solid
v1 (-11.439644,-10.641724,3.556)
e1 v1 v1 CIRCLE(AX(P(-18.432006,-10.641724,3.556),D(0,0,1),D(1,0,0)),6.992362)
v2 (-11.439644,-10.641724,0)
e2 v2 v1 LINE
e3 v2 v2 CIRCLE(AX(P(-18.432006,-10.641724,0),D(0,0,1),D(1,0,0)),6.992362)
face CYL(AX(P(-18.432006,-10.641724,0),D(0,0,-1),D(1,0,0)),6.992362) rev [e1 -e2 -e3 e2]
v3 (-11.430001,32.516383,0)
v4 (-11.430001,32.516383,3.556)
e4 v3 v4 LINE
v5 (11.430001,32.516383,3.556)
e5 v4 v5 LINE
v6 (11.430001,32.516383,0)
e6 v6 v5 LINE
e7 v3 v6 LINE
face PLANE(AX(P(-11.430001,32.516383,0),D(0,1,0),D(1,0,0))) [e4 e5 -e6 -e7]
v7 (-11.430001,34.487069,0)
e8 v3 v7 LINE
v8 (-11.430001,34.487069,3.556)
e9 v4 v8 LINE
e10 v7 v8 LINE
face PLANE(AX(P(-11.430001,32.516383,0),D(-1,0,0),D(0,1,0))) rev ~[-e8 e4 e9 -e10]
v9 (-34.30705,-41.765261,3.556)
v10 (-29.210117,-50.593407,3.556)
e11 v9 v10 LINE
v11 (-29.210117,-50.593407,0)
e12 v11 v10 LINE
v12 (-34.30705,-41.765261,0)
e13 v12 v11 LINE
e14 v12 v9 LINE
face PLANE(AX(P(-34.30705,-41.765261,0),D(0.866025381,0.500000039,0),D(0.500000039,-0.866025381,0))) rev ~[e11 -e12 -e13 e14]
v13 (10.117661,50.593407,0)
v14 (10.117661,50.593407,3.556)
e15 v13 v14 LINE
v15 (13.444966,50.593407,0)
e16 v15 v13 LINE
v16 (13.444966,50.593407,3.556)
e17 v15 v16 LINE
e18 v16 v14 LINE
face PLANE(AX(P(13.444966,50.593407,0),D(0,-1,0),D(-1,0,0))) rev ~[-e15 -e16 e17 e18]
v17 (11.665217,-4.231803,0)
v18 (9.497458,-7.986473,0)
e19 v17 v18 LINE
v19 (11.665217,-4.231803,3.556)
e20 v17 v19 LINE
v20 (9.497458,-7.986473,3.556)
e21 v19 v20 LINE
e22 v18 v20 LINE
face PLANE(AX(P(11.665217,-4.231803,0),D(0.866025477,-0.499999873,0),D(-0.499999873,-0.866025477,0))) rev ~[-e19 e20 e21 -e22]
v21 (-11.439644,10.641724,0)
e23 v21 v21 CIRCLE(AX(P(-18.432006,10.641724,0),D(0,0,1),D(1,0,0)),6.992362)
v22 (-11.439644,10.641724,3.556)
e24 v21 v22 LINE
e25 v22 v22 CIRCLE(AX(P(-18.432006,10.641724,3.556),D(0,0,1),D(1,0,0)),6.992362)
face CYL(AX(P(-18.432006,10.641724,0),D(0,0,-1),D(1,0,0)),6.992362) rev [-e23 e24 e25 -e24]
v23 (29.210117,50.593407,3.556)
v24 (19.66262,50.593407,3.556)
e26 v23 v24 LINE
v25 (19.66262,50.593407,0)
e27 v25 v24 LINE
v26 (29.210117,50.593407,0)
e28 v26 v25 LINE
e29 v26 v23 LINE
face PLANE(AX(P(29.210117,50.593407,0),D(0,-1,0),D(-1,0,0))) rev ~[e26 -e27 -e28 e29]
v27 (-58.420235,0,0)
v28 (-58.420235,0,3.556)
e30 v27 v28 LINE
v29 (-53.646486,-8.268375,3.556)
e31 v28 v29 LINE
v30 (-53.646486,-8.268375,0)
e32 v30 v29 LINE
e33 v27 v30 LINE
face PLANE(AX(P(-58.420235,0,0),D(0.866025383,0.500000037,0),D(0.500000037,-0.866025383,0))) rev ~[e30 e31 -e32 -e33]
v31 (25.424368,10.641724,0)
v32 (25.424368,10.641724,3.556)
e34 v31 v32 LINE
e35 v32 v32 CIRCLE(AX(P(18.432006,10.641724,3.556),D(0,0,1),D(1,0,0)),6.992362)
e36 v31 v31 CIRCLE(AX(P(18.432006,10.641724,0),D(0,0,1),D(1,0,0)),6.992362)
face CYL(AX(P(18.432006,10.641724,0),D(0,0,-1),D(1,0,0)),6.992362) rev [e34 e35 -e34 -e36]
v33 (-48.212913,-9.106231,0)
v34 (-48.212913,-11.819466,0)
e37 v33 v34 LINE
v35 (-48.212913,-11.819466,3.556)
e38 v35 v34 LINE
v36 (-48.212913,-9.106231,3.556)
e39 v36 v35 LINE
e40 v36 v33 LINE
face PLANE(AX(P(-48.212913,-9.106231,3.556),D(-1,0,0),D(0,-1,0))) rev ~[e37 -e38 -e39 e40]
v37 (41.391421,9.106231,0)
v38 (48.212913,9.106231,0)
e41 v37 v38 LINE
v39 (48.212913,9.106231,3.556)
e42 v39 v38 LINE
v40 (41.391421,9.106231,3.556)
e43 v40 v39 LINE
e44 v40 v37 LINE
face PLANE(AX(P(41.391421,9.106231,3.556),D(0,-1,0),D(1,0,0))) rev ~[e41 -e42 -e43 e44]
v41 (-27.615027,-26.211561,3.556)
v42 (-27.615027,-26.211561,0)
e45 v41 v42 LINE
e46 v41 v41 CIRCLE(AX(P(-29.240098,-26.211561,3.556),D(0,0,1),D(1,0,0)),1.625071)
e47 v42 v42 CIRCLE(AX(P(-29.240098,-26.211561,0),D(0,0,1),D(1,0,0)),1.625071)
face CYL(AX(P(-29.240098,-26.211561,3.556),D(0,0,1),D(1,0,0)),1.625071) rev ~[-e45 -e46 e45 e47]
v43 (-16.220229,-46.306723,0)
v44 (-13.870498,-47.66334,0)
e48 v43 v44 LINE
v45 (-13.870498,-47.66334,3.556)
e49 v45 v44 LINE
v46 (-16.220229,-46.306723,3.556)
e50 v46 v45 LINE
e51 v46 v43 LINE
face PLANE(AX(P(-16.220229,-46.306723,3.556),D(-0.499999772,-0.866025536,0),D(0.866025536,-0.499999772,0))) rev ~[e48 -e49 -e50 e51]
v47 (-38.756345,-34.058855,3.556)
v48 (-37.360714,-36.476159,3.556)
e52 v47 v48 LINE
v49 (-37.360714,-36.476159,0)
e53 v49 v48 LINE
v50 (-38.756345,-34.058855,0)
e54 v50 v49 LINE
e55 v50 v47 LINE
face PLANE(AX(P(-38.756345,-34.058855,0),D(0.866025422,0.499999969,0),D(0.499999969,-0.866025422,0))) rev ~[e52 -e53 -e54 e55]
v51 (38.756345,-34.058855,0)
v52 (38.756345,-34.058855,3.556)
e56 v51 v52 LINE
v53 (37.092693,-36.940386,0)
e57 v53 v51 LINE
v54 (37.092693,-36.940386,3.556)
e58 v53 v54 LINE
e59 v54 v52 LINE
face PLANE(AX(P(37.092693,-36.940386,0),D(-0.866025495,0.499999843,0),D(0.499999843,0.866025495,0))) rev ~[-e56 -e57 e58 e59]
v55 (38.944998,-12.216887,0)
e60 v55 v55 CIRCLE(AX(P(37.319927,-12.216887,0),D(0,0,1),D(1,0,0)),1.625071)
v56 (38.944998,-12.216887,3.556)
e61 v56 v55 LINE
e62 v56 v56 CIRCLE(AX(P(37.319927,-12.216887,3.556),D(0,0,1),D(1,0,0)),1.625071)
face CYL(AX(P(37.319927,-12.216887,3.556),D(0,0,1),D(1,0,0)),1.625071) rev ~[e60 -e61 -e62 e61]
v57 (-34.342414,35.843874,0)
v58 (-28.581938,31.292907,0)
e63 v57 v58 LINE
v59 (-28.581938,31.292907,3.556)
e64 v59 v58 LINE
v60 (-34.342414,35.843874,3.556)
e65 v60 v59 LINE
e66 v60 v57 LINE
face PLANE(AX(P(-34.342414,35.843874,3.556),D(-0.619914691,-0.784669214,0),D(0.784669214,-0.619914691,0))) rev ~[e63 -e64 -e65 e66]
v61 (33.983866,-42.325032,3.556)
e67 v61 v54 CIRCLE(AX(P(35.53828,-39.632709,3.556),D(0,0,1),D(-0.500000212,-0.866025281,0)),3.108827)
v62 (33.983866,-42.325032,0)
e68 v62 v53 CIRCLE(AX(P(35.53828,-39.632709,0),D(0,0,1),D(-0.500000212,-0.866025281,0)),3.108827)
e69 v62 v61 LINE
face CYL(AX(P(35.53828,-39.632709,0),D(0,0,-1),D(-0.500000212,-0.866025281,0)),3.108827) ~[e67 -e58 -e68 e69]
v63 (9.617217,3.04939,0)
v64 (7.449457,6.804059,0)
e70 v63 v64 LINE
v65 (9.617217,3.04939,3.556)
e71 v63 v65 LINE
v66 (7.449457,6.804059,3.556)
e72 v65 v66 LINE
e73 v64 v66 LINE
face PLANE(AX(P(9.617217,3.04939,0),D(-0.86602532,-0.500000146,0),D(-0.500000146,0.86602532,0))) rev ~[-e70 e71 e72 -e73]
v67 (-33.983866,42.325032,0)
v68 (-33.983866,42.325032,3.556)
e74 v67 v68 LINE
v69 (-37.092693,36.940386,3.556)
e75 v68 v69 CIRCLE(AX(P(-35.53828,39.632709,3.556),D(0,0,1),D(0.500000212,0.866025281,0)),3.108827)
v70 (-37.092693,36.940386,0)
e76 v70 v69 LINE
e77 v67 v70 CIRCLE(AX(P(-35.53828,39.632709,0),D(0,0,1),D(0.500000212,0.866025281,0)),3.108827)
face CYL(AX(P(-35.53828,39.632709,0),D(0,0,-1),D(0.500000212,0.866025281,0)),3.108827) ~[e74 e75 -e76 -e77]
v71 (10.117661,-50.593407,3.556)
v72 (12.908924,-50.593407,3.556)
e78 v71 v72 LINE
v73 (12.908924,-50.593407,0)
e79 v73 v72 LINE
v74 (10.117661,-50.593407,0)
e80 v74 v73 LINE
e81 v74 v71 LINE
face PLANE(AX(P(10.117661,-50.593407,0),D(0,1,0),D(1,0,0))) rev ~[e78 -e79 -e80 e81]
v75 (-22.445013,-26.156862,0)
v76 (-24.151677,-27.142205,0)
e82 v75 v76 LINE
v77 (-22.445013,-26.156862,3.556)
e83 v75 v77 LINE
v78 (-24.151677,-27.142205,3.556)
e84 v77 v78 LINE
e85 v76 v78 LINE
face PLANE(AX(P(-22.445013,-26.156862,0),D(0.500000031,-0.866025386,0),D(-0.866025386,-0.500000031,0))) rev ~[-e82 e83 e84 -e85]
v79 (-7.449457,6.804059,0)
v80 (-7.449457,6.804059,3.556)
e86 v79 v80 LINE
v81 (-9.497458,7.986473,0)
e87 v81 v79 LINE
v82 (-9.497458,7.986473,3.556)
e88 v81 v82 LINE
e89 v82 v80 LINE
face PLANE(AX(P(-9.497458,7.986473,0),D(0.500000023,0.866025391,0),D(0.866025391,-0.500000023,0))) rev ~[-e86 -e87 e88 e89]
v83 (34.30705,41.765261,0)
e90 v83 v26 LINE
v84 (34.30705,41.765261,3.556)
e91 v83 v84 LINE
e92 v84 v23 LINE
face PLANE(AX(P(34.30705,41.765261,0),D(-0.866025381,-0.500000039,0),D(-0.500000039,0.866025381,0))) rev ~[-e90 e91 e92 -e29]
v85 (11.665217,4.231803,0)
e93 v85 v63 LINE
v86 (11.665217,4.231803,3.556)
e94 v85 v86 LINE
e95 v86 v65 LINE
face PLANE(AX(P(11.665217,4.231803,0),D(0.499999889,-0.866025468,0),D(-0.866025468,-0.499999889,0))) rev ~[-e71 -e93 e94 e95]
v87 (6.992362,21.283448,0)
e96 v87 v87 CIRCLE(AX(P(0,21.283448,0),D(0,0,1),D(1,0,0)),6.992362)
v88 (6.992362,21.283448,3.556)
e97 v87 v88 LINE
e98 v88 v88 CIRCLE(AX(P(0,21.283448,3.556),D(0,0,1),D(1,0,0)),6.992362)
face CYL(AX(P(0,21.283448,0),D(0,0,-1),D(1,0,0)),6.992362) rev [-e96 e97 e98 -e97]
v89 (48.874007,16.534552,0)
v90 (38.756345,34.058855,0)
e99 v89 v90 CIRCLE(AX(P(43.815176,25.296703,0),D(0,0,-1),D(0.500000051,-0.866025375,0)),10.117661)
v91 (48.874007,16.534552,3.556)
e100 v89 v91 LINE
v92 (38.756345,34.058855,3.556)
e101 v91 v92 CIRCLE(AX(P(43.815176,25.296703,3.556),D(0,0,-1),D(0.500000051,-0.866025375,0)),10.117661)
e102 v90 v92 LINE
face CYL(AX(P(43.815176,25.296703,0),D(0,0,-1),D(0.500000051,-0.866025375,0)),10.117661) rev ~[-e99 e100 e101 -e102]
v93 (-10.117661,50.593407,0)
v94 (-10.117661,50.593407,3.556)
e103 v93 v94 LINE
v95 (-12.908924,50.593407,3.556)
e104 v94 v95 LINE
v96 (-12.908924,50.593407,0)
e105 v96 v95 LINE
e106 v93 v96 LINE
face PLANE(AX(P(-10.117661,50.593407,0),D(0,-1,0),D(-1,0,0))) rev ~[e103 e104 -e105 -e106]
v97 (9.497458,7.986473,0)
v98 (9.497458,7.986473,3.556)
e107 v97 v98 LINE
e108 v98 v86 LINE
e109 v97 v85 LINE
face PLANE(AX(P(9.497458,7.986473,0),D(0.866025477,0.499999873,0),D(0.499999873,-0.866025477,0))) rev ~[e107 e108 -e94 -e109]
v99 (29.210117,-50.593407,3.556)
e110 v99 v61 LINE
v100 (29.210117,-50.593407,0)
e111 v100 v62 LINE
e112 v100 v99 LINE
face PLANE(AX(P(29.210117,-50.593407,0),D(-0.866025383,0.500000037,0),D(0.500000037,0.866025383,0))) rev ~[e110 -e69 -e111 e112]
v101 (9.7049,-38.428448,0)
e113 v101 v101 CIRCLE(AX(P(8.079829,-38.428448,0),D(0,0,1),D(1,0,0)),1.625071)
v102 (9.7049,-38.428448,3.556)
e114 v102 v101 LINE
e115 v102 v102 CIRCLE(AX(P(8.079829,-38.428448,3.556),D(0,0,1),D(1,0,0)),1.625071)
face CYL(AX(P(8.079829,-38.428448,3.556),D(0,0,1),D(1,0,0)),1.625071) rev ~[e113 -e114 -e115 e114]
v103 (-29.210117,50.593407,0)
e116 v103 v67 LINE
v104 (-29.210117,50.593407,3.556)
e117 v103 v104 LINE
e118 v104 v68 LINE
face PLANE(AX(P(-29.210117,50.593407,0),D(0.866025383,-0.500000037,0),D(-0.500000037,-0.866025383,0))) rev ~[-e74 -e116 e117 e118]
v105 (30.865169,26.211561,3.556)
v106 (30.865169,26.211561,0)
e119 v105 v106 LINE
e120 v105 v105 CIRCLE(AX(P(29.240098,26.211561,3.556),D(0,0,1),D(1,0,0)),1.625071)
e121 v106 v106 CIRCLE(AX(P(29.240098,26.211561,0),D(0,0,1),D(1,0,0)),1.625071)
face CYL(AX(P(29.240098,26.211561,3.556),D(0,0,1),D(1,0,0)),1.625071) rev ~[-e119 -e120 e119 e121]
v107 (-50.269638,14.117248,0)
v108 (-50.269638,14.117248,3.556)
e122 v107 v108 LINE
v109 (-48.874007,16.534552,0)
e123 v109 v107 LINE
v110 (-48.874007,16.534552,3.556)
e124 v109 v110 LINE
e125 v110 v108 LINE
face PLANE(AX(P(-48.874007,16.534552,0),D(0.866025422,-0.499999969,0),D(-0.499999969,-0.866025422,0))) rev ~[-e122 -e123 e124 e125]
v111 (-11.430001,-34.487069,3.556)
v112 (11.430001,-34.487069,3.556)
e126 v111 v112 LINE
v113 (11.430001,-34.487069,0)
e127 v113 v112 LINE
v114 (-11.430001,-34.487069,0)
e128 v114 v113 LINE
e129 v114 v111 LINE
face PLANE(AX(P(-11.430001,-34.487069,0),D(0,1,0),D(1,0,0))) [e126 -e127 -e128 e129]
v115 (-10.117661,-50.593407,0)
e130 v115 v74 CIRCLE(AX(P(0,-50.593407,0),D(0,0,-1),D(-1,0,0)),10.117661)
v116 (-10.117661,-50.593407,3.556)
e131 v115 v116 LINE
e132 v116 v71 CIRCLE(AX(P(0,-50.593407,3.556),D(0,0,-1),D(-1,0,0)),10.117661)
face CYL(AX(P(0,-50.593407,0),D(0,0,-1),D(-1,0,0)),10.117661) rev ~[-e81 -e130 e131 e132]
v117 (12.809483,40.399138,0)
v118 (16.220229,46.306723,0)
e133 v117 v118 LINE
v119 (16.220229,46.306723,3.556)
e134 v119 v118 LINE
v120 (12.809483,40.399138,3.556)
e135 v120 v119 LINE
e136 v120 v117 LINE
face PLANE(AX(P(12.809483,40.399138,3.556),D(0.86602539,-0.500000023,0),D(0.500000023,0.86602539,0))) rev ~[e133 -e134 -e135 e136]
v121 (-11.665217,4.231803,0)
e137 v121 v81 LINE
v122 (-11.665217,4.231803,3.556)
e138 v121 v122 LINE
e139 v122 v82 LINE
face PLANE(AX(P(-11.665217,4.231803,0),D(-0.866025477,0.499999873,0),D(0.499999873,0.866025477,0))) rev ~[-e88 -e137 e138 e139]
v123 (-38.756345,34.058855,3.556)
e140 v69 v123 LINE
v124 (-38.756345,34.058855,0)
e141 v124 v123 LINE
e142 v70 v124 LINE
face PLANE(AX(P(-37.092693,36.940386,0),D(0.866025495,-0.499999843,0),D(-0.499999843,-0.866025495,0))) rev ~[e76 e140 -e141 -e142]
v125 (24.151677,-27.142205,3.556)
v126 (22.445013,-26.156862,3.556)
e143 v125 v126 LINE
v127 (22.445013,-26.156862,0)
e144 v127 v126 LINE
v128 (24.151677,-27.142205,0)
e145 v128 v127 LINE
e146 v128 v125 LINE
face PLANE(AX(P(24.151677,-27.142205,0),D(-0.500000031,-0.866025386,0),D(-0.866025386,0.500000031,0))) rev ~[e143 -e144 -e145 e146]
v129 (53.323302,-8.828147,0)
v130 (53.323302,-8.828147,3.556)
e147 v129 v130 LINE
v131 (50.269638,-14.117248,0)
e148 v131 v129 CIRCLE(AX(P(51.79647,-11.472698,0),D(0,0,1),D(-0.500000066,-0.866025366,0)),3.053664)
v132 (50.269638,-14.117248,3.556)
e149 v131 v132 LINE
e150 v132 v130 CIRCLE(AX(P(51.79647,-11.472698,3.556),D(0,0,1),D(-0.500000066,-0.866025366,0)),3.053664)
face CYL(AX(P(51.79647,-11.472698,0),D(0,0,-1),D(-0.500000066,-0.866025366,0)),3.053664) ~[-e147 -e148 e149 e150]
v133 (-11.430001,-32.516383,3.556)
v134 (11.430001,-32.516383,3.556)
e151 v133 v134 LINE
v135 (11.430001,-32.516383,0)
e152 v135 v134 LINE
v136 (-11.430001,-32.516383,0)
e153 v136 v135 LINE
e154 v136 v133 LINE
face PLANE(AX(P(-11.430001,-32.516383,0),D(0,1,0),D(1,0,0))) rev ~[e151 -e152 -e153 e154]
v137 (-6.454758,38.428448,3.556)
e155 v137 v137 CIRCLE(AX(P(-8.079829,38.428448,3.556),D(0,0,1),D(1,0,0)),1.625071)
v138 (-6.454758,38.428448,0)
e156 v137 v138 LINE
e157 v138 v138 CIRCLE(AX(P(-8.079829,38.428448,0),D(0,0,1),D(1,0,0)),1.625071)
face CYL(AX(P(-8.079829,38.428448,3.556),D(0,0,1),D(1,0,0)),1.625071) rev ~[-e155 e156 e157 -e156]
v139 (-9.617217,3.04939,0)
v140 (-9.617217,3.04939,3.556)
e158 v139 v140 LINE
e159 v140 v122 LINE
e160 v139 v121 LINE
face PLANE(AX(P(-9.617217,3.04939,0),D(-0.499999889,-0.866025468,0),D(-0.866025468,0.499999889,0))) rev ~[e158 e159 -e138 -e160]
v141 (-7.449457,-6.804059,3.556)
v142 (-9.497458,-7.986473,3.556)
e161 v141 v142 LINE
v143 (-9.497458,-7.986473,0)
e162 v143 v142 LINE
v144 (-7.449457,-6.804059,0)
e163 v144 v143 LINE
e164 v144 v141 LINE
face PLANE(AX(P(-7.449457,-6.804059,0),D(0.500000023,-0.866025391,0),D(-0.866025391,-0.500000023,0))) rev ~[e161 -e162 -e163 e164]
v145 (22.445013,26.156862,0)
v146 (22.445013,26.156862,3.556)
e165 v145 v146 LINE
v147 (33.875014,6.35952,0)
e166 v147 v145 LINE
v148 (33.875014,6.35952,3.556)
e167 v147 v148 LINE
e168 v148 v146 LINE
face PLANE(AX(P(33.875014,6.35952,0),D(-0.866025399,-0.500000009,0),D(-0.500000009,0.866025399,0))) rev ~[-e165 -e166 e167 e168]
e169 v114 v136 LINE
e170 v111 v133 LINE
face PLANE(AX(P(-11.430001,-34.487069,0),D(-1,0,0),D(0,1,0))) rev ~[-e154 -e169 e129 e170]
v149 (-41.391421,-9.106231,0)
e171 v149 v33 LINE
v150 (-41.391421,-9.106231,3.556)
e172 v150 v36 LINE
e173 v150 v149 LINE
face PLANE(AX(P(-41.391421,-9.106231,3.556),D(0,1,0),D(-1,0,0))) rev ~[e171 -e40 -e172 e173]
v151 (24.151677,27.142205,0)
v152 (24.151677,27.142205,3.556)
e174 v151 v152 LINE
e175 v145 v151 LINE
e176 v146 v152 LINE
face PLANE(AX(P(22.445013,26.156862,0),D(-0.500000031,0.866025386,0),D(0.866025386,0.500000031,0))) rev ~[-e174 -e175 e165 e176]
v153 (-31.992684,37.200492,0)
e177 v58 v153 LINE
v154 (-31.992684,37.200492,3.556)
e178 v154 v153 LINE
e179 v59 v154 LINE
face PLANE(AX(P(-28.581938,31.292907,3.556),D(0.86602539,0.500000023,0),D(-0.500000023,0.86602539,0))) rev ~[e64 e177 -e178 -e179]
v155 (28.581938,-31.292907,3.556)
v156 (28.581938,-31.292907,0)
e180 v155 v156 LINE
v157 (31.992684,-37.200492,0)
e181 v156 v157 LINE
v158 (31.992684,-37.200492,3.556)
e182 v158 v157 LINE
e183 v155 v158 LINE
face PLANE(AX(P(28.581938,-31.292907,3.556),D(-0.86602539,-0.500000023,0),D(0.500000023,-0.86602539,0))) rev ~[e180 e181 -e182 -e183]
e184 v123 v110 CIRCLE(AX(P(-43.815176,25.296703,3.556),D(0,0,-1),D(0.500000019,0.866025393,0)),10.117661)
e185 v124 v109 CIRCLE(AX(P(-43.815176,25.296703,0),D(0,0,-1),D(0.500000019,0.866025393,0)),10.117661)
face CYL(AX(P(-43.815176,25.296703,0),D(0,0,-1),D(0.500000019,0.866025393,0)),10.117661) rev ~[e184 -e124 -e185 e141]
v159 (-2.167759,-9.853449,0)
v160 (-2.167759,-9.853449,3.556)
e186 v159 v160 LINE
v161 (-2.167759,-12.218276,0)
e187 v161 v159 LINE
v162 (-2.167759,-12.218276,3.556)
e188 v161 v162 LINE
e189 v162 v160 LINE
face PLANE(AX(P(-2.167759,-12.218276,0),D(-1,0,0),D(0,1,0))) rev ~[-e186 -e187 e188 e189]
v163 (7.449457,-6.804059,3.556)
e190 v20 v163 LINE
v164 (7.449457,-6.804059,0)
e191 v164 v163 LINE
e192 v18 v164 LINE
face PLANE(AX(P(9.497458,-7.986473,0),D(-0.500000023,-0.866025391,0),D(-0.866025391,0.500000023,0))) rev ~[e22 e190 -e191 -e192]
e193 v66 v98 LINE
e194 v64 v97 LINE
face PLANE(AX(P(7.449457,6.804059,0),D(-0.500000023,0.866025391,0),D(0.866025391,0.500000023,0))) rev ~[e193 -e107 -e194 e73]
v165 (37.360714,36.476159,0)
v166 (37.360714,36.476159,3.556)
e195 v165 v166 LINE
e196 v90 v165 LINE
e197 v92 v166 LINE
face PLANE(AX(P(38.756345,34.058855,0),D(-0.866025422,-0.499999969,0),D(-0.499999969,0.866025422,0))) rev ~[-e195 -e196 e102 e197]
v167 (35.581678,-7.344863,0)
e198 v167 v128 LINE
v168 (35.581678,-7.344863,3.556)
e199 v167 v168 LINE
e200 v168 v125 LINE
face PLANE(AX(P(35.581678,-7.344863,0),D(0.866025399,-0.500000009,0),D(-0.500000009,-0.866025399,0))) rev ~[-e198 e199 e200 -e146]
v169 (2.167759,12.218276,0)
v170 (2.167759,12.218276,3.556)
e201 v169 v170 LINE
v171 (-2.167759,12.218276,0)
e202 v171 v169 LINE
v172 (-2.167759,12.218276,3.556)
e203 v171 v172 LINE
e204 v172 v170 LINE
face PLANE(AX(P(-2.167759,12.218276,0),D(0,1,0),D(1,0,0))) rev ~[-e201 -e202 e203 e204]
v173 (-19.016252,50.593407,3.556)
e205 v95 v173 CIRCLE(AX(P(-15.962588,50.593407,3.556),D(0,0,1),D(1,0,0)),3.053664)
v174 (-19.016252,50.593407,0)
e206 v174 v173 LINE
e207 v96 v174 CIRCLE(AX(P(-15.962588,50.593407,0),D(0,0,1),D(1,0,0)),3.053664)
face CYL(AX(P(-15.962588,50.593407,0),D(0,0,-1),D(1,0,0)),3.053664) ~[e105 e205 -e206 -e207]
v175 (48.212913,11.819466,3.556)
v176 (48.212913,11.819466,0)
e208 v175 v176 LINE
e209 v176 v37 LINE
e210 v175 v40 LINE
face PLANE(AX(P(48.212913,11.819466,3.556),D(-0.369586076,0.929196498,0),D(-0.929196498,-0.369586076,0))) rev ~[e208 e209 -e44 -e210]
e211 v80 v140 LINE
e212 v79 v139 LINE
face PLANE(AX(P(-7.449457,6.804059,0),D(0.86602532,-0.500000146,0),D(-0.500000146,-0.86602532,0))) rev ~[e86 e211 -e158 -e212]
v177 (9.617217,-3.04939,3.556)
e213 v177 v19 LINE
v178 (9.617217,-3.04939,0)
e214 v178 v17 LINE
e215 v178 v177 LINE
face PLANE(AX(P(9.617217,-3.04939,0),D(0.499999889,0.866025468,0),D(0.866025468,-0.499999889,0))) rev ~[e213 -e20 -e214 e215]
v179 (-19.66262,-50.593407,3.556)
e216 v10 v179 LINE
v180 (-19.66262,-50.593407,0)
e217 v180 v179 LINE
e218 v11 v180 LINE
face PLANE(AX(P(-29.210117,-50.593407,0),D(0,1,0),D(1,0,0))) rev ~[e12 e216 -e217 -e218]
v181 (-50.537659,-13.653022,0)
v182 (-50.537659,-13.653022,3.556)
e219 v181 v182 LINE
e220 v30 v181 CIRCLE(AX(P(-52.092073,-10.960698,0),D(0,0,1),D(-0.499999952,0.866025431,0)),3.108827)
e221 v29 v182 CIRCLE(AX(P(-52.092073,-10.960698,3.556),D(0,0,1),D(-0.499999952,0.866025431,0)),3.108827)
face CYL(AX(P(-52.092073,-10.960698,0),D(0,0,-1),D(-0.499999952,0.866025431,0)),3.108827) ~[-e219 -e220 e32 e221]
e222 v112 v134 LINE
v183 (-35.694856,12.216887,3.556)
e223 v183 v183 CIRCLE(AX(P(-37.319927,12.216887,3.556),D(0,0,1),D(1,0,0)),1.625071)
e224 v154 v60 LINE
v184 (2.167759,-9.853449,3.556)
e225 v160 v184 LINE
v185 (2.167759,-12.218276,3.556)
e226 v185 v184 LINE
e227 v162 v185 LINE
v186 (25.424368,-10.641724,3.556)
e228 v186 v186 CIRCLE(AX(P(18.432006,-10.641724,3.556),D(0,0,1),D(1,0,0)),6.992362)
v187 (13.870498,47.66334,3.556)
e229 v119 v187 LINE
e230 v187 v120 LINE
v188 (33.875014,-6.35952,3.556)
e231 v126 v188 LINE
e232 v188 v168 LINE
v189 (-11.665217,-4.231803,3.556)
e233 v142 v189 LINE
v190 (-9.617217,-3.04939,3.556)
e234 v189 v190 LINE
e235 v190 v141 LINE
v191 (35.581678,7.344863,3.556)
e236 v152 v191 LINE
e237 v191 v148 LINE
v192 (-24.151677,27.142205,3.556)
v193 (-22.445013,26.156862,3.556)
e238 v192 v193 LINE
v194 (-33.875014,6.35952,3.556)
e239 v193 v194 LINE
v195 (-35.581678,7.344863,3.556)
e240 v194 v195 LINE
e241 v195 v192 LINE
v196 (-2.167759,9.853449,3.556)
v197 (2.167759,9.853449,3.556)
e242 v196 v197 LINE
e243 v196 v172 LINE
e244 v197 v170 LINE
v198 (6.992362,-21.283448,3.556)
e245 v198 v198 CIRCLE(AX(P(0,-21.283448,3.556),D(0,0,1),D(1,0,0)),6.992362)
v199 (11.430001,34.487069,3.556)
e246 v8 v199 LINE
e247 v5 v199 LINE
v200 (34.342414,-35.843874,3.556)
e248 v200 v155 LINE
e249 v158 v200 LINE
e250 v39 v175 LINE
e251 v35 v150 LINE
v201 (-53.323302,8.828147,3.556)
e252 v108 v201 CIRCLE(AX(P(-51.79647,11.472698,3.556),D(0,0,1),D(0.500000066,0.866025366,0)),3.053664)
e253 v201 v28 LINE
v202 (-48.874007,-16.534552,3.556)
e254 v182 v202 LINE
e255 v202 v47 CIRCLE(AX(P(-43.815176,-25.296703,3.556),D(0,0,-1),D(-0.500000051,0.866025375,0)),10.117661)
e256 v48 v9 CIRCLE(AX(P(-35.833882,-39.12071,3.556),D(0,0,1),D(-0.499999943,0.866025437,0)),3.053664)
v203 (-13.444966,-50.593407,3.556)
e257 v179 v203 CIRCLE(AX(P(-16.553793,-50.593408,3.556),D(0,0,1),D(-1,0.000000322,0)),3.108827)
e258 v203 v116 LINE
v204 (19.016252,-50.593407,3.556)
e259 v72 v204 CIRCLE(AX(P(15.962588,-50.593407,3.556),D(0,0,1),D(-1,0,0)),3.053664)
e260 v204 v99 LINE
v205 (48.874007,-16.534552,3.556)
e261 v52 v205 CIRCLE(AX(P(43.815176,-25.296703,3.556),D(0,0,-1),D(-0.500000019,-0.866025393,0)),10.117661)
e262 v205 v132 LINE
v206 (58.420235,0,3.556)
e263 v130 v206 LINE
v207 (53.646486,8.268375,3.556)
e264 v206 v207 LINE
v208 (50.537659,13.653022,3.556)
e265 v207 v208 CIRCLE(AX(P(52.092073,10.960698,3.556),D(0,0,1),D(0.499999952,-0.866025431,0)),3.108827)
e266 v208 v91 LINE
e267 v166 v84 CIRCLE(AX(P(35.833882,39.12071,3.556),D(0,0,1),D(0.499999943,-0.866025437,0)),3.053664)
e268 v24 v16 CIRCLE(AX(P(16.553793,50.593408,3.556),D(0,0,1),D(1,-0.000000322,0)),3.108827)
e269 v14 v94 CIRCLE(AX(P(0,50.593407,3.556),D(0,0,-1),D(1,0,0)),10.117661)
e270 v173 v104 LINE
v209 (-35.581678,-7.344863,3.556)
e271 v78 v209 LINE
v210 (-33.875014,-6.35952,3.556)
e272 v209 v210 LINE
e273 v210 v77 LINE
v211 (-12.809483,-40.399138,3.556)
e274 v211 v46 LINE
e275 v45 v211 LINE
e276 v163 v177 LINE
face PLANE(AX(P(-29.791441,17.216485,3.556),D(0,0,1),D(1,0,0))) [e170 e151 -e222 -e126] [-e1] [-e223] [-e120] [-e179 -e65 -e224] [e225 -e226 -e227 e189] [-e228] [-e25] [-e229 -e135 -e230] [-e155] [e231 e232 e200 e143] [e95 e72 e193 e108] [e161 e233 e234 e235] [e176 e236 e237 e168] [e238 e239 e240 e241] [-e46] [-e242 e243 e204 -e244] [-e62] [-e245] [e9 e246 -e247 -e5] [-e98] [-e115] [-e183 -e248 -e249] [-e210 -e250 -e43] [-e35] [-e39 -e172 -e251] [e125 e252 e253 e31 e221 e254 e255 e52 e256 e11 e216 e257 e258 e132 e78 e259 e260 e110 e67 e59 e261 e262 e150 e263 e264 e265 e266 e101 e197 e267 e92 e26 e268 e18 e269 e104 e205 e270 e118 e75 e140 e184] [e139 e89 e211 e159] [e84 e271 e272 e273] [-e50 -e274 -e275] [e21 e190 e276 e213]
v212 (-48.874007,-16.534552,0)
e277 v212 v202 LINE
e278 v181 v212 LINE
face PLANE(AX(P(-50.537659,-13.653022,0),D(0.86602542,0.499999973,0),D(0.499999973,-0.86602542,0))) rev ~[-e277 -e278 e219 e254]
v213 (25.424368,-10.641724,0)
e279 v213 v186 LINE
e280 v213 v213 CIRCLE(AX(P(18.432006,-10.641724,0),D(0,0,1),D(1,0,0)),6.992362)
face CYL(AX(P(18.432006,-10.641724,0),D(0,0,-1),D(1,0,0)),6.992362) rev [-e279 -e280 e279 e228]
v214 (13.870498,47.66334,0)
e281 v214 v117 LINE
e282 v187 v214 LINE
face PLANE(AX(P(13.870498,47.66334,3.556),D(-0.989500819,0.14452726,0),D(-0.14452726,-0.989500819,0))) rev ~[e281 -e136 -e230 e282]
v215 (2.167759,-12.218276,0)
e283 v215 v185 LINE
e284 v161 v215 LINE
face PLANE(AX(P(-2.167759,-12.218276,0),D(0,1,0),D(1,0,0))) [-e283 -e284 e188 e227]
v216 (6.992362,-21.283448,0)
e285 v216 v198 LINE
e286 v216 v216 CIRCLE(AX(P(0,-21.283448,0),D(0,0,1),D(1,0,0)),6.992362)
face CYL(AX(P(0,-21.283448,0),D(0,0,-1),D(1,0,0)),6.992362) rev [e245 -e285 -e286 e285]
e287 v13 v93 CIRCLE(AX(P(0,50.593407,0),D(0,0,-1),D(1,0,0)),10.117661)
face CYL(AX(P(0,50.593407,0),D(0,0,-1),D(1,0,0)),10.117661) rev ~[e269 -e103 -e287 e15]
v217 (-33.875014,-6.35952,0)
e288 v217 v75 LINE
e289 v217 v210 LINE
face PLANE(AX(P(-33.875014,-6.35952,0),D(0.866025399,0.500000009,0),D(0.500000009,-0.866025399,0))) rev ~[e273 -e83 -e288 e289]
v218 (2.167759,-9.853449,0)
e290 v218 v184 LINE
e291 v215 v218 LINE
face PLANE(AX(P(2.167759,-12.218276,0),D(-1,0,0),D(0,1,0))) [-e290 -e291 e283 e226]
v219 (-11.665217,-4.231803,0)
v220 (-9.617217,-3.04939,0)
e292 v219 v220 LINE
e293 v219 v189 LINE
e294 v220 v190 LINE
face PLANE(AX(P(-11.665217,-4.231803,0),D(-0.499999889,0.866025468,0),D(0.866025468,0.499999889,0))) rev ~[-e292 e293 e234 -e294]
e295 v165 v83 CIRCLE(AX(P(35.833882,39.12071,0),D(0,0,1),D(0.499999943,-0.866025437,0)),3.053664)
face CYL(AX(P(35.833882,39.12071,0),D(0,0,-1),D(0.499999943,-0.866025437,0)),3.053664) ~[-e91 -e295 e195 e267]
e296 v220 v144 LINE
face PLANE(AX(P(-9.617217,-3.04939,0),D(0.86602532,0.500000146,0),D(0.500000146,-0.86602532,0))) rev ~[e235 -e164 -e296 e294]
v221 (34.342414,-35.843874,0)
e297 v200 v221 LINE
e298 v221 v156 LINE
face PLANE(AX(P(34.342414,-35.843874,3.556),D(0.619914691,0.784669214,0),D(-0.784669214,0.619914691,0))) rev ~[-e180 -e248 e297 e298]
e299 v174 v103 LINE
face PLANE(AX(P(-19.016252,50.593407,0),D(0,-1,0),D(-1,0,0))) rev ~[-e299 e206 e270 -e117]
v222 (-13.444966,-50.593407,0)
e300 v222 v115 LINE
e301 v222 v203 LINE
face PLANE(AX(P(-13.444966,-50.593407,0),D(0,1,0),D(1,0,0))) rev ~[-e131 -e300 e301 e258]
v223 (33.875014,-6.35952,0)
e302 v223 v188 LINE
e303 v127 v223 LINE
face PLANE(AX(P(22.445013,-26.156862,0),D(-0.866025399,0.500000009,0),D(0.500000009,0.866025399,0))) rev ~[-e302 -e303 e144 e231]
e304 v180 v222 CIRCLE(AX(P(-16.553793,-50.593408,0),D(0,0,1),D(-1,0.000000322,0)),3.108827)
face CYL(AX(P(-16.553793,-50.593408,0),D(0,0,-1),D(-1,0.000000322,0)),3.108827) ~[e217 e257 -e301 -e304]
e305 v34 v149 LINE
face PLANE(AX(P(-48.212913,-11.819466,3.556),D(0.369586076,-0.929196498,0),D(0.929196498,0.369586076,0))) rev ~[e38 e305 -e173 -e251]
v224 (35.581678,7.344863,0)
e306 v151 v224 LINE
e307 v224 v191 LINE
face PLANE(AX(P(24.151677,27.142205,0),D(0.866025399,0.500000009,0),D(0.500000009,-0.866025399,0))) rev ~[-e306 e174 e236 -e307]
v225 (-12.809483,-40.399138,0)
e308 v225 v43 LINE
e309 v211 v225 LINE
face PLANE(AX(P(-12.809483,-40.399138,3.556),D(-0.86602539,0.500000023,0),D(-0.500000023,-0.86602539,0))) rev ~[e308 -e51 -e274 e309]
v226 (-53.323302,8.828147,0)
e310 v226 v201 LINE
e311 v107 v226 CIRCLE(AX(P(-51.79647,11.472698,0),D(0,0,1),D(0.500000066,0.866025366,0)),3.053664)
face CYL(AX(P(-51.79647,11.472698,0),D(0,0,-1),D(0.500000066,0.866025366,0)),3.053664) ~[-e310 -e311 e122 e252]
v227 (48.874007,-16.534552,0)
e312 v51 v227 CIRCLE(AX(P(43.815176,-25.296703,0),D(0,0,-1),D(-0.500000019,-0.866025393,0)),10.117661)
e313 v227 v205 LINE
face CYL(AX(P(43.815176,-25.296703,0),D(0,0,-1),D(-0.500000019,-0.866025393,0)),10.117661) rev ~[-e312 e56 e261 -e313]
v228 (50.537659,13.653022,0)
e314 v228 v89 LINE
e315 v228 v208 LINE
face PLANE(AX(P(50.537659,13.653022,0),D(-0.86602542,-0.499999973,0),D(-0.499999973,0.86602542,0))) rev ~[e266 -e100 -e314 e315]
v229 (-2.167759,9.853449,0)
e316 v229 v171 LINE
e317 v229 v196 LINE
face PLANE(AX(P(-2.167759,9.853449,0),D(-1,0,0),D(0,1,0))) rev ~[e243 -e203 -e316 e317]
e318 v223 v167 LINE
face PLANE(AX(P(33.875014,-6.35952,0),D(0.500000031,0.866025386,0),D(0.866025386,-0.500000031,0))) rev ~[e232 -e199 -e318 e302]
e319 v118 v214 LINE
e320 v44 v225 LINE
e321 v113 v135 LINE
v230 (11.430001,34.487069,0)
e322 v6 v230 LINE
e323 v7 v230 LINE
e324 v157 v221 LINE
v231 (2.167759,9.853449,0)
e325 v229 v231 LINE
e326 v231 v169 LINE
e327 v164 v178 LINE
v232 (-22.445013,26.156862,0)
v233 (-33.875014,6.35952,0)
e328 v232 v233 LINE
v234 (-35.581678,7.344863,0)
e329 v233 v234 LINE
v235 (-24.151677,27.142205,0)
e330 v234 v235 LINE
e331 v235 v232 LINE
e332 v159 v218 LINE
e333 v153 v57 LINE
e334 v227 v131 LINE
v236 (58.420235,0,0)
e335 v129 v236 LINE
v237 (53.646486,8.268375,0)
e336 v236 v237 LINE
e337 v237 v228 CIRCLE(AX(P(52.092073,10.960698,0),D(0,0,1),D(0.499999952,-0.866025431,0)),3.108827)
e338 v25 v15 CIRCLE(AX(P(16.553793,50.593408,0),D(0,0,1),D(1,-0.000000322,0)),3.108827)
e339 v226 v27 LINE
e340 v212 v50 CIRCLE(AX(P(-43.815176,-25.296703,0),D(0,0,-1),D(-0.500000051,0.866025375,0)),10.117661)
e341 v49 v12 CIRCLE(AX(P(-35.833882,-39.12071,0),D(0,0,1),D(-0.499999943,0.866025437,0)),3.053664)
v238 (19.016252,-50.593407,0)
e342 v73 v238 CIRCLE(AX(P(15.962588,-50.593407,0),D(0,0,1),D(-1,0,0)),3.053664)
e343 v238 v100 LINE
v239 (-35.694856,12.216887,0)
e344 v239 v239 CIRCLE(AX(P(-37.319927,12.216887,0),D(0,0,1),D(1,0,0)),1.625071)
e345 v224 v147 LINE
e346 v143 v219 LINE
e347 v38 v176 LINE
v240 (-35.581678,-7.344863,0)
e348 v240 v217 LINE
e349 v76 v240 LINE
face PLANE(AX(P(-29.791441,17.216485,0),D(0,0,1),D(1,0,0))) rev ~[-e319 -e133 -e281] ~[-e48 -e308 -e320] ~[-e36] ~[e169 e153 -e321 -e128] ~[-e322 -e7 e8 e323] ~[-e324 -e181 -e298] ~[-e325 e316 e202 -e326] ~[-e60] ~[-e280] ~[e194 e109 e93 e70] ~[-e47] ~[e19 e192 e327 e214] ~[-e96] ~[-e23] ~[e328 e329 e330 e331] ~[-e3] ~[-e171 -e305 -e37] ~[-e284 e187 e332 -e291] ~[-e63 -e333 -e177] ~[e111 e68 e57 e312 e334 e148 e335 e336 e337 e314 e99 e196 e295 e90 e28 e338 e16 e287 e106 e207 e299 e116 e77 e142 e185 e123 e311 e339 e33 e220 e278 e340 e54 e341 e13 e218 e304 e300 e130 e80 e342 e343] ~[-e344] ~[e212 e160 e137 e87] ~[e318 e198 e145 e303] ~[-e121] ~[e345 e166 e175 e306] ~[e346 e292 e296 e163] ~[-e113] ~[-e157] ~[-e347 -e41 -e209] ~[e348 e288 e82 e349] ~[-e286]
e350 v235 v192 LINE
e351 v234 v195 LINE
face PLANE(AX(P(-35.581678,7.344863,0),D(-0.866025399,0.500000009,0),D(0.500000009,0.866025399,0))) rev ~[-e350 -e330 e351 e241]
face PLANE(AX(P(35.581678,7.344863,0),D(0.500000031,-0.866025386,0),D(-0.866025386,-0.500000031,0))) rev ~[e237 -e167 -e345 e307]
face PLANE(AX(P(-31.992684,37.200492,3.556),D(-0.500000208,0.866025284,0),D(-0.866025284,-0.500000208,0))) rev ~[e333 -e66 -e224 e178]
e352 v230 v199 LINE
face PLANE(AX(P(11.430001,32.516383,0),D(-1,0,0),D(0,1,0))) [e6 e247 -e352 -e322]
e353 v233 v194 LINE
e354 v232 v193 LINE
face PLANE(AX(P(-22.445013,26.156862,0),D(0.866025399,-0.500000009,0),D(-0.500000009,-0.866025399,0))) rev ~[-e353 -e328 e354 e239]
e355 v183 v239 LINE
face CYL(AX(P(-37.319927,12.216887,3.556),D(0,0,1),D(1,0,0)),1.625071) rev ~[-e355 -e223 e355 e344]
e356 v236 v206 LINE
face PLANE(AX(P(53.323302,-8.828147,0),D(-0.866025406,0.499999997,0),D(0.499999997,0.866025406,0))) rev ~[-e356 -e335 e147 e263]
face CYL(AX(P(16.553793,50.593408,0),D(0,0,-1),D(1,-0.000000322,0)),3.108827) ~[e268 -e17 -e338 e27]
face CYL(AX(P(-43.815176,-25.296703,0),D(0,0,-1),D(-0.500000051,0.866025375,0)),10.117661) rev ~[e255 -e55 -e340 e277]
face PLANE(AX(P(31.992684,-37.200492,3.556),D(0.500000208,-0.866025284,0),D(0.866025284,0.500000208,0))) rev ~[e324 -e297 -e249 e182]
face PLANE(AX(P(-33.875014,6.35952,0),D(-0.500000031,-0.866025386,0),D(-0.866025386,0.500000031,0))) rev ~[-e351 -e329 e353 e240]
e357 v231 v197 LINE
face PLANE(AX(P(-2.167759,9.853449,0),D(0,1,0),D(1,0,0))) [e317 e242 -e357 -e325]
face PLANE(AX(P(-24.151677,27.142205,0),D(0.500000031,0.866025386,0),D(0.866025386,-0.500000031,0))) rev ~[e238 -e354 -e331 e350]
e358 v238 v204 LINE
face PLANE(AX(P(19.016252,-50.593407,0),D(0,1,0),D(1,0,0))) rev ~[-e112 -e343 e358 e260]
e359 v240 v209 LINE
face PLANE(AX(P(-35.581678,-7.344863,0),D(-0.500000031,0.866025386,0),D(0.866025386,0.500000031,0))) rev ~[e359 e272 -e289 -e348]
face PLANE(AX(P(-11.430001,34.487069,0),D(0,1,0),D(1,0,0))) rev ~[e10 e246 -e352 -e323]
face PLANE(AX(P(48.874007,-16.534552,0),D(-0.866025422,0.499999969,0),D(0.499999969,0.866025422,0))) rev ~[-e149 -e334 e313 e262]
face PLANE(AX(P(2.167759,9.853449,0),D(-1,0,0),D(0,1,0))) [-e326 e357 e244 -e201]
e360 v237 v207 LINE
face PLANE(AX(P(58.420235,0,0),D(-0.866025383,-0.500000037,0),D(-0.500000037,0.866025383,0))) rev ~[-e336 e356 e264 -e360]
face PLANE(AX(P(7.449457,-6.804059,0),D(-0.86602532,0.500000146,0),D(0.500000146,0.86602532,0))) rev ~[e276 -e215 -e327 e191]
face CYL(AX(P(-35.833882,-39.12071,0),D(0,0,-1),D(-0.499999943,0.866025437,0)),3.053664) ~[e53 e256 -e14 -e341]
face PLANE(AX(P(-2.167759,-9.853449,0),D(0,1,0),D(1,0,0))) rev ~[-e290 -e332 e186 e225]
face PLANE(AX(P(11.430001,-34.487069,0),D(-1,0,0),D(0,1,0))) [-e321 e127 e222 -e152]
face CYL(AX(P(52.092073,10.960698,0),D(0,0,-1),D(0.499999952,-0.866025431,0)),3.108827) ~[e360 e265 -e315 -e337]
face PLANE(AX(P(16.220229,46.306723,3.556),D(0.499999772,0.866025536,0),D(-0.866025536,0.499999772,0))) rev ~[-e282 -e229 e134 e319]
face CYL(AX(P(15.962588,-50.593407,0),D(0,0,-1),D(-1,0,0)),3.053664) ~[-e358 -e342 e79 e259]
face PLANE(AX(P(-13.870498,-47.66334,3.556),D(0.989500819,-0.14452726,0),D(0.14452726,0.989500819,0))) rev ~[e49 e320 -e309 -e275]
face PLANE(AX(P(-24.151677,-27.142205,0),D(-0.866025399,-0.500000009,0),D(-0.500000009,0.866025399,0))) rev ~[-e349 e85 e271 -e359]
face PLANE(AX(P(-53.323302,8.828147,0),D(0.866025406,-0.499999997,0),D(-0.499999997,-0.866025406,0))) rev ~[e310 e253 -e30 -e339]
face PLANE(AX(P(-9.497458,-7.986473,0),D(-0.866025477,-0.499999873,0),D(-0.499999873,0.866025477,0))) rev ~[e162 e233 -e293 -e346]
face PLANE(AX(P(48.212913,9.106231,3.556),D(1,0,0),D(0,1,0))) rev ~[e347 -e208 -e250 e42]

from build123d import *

# Parameters (mm, degrees)
F0_R     = 6.992362
F0_W     = 22.860002
F0_H     = 1.970686
F0_W_2   = 4.335518
F0_H_2   = 2.364827
F1_DEPTH = 3.556
F2_R     = 1.625071
F3_DEPTH = 25.4


with BuildPart() as f1:
    # F0 (on Top) → F1 (new body)
    with BuildSketch(Plane.XY):
        with BuildLine():
            Line((-58.420235, 0), (0, 0))
            Line((0, 0), (-29.210117, 50.593407))
            Line((-29.210117, 50.593407), (-33.983866, 42.325032))
            ThreePointArc((-33.983866, 42.325032), (-38.230603, 41.187123), (-37.092693, 36.940386))
            Line((-37.092693, 36.940386), (-38.756345, 34.058855))
            ThreePointArc((-38.756345, 34.058855), (-35.053024, 20.237873), (-48.874007, 16.534552))
            Line((-48.874007, 16.534552), (-50.269638, 14.117248))
            ThreePointArc((-50.269638, 14.117248), (-54.441021, 12.999529), (-53.323302, 8.828147))
            Line((-53.323302, 8.828147), (-58.420235, 0))
        make_face()
        with Locations((-18.432006, 10.641724)):
            Circle(F0_R, mode=Mode.SUBTRACT)
        Polygon((-7.449457, 6.804059), (-9.617217, 3.04939), (-11.665217, 4.231803), (-9.497458, 7.986473), align=None, mode=Mode.SUBTRACT)
        Polygon((-33.875014, 6.35952), (-35.581678, 7.344863), (-24.151677, 27.142205), (-22.445013, 26.156862), align=None, mode=Mode.SUBTRACT)
        with BuildLine():
            Line((-29.210117, -50.593407), (0, 0))
            Line((0, 0), (-58.420235, 0))
            Line((-58.420235, 0), (-53.646486, -8.268375))
            ThreePointArc((-53.646486, -8.268375), (-54.784396, -12.515112), (-50.537659, -13.653022))
            Line((-50.537659, -13.653022), (-48.874007, -16.534552))
            ThreePointArc((-48.874007, -16.534552), (-35.053024, -20.237873), (-38.756345, -34.058855))
            Line((-38.756345, -34.058855), (-37.360714, -36.476159))
            ThreePointArc((-37.360714, -36.476159), (-38.478433, -40.647542), (-34.30705, -41.765261))
            Line((-34.30705, -41.765261), (-29.210117, -50.593407))
        make_face()
        Polygon((-22.445013, -26.156862), (-24.151677, -27.142205), (-35.581678, -7.344863), (-33.875014, -6.35952), align=None, mode=Mode.SUBTRACT)
        with Locations((-18.432006, -10.641724)):
            Circle(F0_R, mode=Mode.SUBTRACT)
        Polygon((-9.617217, -3.04939), (-7.449457, -6.804059), (-9.497458, -7.986473), (-11.665217, -4.231803), align=None, mode=Mode.SUBTRACT)
        with BuildLine():
            Line((-29.210117, 50.593407), (0, 0))
            Line((0, 0), (29.210117, 50.593407))
            Line((29.210117, 50.593407), (19.66262, 50.593407))
            ThreePointArc((19.66262, 50.593407), (16.553793, 53.702235), (13.444966, 50.593407))
            Line((13.444966, 50.593407), (10.117661, 50.593407))
            ThreePointArc((10.117661, 50.593407), (0, 40.475746), (-10.117661, 50.593407))
            Line((-10.117661, 50.593407), (-12.908924, 50.593407))
            ThreePointArc((-12.908924, 50.593407), (-15.962588, 53.647071), (-19.016252, 50.593407))
            Line((-19.016252, 50.593407), (-29.210117, 50.593407))
        make_face()
        with Locations((0, 33.501726)):
            Rectangle(F0_W, F0_H, mode=Mode.SUBTRACT)
        with Locations((0, 11.035863)):
            Rectangle(F0_W_2, F0_H_2, mode=Mode.SUBTRACT)
        with Locations((0, 21.283448)):
            Circle(F0_R, mode=Mode.SUBTRACT)
        with BuildLine():
            Line((29.210117, 50.593407), (0, 0))
            Line((0, 0), (58.420235, 0))
            Line((58.420235, 0), (53.646486, 8.268375))
            ThreePointArc((53.646486, 8.268375), (54.784396, 12.515112), (50.537659, 13.653022))
            Line((50.537659, 13.653022), (48.874007, 16.534552))
            ThreePointArc((48.874007, 16.534552), (35.053024, 20.237873), (38.756345, 34.058855))
            Line((38.756345, 34.058855), (37.360714, 36.476159))
            ThreePointArc((37.360714, 36.476159), (38.478433, 40.647542), (34.30705, 41.765261))
            Line((34.30705, 41.765261), (29.210117, 50.593407))
        make_face()
        Polygon((9.617217, 3.04939), (7.449457, 6.804059), (9.497458, 7.986473), (11.665217, 4.231803), align=None, mode=Mode.SUBTRACT)
        with Locations((18.432006, 10.641724)):
            Circle(F0_R, mode=Mode.SUBTRACT)
        Polygon((22.445013, 26.156862), (24.151677, 27.142205), (35.581678, 7.344863), (33.875014, 6.35952), align=None, mode=Mode.SUBTRACT)
        with BuildLine():
            Line((58.420235, 0), (0, 0))
            Line((0, 0), (29.210117, -50.593407))
            Line((29.210117, -50.593407), (33.983866, -42.325032))
            ThreePointArc((33.983866, -42.325032), (38.230603, -41.187123), (37.092693, -36.940386))
            Line((37.092693, -36.940386), (38.756345, -34.058855))
            ThreePointArc((38.756345, -34.058855), (35.053024, -20.237873), (48.874007, -16.534552))
            Line((48.874007, -16.534552), (50.269638, -14.117248))
            ThreePointArc((50.269638, -14.117248), (54.441021, -12.999529), (53.323302, -8.828147))
            Line((53.323302, -8.828147), (58.420235, 0))
        make_face()
        Polygon((33.875014, -6.35952), (35.581678, -7.344863), (24.151677, -27.142205), (22.445013, -26.156862), align=None, mode=Mode.SUBTRACT)
        Polygon((7.449457, -6.804059), (9.617217, -3.04939), (11.665217, -4.231803), (9.497458, -7.986473), align=None, mode=Mode.SUBTRACT)
        with Locations((18.432006, -10.641724)):
            Circle(F0_R, mode=Mode.SUBTRACT)
        with BuildLine():
            Line((29.210117, -50.593407), (0, 0))
            Line((0, 0), (-29.210117, -50.593407))
            Line((-29.210117, -50.593407), (-19.66262, -50.593407))
            ThreePointArc((-19.66262, -50.593407), (-16.553793, -53.702235), (-13.444966, -50.593407))
            Line((-13.444966, -50.593407), (-10.117661, -50.593407))
            ThreePointArc((-10.117661, -50.593407), (0, -40.475746), (10.117661, -50.593407))
            Line((10.117661, -50.593407), (12.908924, -50.593407))
            ThreePointArc((12.908924, -50.593407), (15.962588, -53.647071), (19.016252, -50.593407))
            Line((19.016252, -50.593407), (29.210117, -50.593407))
        make_face()
        with Locations((0, -33.501726)):
            Rectangle(F0_W, F0_H, mode=Mode.SUBTRACT)
        with Locations((0, -21.283448)):
            Circle(F0_R, mode=Mode.SUBTRACT)
        with Locations((0, -11.035863)):
            Rectangle(F0_W_2, F0_H_2, mode=Mode.SUBTRACT)
    extrude(amount=F1_DEPTH)

    # F2 (on face) → F3 (cut)
    with BuildSketch(Plane.XY.offset(3.556)):
        with Locations((8.079829, -38.428448)):
            Circle(F2_R)
        Polygon((-13.870498, -47.66334), (-12.809483, -40.399138), (-16.220229, -46.306723), align=None)
        Polygon((34.342414, -35.843874), (28.581938, -31.292907), (31.992684, -37.200492), align=None)
        with Locations((37.319927, -12.216887)):
            Circle(F2_R)
        Polygon((48.212913, 11.819466), (41.391421, 9.106231), (48.212913, 9.106231), align=None)
        with Locations((29.240098, 26.211561)):
            Circle(F2_R)
        Polygon((13.870498, 47.66334), (12.809483, 40.399138), (16.220229, 46.306723), align=None)
        with Locations((-8.079829, 38.428448)):
            Circle(F2_R)
        Polygon((-34.342414, 35.843874), (-28.581938, 31.292907), (-31.992684, 37.200492), align=None)
        with Locations((-37.319927, 12.216887)):
            Circle(F2_R)
        Polygon((-48.212913, -11.819466), (-41.391421, -9.106231), (-48.212913, -9.106231), align=None)
        with Locations((-29.240098, -26.211561)):
            Circle(F2_R)
    extrude(amount=-F3_DEPTH, mode=Mode.SUBTRACT)


solid = f1.part
